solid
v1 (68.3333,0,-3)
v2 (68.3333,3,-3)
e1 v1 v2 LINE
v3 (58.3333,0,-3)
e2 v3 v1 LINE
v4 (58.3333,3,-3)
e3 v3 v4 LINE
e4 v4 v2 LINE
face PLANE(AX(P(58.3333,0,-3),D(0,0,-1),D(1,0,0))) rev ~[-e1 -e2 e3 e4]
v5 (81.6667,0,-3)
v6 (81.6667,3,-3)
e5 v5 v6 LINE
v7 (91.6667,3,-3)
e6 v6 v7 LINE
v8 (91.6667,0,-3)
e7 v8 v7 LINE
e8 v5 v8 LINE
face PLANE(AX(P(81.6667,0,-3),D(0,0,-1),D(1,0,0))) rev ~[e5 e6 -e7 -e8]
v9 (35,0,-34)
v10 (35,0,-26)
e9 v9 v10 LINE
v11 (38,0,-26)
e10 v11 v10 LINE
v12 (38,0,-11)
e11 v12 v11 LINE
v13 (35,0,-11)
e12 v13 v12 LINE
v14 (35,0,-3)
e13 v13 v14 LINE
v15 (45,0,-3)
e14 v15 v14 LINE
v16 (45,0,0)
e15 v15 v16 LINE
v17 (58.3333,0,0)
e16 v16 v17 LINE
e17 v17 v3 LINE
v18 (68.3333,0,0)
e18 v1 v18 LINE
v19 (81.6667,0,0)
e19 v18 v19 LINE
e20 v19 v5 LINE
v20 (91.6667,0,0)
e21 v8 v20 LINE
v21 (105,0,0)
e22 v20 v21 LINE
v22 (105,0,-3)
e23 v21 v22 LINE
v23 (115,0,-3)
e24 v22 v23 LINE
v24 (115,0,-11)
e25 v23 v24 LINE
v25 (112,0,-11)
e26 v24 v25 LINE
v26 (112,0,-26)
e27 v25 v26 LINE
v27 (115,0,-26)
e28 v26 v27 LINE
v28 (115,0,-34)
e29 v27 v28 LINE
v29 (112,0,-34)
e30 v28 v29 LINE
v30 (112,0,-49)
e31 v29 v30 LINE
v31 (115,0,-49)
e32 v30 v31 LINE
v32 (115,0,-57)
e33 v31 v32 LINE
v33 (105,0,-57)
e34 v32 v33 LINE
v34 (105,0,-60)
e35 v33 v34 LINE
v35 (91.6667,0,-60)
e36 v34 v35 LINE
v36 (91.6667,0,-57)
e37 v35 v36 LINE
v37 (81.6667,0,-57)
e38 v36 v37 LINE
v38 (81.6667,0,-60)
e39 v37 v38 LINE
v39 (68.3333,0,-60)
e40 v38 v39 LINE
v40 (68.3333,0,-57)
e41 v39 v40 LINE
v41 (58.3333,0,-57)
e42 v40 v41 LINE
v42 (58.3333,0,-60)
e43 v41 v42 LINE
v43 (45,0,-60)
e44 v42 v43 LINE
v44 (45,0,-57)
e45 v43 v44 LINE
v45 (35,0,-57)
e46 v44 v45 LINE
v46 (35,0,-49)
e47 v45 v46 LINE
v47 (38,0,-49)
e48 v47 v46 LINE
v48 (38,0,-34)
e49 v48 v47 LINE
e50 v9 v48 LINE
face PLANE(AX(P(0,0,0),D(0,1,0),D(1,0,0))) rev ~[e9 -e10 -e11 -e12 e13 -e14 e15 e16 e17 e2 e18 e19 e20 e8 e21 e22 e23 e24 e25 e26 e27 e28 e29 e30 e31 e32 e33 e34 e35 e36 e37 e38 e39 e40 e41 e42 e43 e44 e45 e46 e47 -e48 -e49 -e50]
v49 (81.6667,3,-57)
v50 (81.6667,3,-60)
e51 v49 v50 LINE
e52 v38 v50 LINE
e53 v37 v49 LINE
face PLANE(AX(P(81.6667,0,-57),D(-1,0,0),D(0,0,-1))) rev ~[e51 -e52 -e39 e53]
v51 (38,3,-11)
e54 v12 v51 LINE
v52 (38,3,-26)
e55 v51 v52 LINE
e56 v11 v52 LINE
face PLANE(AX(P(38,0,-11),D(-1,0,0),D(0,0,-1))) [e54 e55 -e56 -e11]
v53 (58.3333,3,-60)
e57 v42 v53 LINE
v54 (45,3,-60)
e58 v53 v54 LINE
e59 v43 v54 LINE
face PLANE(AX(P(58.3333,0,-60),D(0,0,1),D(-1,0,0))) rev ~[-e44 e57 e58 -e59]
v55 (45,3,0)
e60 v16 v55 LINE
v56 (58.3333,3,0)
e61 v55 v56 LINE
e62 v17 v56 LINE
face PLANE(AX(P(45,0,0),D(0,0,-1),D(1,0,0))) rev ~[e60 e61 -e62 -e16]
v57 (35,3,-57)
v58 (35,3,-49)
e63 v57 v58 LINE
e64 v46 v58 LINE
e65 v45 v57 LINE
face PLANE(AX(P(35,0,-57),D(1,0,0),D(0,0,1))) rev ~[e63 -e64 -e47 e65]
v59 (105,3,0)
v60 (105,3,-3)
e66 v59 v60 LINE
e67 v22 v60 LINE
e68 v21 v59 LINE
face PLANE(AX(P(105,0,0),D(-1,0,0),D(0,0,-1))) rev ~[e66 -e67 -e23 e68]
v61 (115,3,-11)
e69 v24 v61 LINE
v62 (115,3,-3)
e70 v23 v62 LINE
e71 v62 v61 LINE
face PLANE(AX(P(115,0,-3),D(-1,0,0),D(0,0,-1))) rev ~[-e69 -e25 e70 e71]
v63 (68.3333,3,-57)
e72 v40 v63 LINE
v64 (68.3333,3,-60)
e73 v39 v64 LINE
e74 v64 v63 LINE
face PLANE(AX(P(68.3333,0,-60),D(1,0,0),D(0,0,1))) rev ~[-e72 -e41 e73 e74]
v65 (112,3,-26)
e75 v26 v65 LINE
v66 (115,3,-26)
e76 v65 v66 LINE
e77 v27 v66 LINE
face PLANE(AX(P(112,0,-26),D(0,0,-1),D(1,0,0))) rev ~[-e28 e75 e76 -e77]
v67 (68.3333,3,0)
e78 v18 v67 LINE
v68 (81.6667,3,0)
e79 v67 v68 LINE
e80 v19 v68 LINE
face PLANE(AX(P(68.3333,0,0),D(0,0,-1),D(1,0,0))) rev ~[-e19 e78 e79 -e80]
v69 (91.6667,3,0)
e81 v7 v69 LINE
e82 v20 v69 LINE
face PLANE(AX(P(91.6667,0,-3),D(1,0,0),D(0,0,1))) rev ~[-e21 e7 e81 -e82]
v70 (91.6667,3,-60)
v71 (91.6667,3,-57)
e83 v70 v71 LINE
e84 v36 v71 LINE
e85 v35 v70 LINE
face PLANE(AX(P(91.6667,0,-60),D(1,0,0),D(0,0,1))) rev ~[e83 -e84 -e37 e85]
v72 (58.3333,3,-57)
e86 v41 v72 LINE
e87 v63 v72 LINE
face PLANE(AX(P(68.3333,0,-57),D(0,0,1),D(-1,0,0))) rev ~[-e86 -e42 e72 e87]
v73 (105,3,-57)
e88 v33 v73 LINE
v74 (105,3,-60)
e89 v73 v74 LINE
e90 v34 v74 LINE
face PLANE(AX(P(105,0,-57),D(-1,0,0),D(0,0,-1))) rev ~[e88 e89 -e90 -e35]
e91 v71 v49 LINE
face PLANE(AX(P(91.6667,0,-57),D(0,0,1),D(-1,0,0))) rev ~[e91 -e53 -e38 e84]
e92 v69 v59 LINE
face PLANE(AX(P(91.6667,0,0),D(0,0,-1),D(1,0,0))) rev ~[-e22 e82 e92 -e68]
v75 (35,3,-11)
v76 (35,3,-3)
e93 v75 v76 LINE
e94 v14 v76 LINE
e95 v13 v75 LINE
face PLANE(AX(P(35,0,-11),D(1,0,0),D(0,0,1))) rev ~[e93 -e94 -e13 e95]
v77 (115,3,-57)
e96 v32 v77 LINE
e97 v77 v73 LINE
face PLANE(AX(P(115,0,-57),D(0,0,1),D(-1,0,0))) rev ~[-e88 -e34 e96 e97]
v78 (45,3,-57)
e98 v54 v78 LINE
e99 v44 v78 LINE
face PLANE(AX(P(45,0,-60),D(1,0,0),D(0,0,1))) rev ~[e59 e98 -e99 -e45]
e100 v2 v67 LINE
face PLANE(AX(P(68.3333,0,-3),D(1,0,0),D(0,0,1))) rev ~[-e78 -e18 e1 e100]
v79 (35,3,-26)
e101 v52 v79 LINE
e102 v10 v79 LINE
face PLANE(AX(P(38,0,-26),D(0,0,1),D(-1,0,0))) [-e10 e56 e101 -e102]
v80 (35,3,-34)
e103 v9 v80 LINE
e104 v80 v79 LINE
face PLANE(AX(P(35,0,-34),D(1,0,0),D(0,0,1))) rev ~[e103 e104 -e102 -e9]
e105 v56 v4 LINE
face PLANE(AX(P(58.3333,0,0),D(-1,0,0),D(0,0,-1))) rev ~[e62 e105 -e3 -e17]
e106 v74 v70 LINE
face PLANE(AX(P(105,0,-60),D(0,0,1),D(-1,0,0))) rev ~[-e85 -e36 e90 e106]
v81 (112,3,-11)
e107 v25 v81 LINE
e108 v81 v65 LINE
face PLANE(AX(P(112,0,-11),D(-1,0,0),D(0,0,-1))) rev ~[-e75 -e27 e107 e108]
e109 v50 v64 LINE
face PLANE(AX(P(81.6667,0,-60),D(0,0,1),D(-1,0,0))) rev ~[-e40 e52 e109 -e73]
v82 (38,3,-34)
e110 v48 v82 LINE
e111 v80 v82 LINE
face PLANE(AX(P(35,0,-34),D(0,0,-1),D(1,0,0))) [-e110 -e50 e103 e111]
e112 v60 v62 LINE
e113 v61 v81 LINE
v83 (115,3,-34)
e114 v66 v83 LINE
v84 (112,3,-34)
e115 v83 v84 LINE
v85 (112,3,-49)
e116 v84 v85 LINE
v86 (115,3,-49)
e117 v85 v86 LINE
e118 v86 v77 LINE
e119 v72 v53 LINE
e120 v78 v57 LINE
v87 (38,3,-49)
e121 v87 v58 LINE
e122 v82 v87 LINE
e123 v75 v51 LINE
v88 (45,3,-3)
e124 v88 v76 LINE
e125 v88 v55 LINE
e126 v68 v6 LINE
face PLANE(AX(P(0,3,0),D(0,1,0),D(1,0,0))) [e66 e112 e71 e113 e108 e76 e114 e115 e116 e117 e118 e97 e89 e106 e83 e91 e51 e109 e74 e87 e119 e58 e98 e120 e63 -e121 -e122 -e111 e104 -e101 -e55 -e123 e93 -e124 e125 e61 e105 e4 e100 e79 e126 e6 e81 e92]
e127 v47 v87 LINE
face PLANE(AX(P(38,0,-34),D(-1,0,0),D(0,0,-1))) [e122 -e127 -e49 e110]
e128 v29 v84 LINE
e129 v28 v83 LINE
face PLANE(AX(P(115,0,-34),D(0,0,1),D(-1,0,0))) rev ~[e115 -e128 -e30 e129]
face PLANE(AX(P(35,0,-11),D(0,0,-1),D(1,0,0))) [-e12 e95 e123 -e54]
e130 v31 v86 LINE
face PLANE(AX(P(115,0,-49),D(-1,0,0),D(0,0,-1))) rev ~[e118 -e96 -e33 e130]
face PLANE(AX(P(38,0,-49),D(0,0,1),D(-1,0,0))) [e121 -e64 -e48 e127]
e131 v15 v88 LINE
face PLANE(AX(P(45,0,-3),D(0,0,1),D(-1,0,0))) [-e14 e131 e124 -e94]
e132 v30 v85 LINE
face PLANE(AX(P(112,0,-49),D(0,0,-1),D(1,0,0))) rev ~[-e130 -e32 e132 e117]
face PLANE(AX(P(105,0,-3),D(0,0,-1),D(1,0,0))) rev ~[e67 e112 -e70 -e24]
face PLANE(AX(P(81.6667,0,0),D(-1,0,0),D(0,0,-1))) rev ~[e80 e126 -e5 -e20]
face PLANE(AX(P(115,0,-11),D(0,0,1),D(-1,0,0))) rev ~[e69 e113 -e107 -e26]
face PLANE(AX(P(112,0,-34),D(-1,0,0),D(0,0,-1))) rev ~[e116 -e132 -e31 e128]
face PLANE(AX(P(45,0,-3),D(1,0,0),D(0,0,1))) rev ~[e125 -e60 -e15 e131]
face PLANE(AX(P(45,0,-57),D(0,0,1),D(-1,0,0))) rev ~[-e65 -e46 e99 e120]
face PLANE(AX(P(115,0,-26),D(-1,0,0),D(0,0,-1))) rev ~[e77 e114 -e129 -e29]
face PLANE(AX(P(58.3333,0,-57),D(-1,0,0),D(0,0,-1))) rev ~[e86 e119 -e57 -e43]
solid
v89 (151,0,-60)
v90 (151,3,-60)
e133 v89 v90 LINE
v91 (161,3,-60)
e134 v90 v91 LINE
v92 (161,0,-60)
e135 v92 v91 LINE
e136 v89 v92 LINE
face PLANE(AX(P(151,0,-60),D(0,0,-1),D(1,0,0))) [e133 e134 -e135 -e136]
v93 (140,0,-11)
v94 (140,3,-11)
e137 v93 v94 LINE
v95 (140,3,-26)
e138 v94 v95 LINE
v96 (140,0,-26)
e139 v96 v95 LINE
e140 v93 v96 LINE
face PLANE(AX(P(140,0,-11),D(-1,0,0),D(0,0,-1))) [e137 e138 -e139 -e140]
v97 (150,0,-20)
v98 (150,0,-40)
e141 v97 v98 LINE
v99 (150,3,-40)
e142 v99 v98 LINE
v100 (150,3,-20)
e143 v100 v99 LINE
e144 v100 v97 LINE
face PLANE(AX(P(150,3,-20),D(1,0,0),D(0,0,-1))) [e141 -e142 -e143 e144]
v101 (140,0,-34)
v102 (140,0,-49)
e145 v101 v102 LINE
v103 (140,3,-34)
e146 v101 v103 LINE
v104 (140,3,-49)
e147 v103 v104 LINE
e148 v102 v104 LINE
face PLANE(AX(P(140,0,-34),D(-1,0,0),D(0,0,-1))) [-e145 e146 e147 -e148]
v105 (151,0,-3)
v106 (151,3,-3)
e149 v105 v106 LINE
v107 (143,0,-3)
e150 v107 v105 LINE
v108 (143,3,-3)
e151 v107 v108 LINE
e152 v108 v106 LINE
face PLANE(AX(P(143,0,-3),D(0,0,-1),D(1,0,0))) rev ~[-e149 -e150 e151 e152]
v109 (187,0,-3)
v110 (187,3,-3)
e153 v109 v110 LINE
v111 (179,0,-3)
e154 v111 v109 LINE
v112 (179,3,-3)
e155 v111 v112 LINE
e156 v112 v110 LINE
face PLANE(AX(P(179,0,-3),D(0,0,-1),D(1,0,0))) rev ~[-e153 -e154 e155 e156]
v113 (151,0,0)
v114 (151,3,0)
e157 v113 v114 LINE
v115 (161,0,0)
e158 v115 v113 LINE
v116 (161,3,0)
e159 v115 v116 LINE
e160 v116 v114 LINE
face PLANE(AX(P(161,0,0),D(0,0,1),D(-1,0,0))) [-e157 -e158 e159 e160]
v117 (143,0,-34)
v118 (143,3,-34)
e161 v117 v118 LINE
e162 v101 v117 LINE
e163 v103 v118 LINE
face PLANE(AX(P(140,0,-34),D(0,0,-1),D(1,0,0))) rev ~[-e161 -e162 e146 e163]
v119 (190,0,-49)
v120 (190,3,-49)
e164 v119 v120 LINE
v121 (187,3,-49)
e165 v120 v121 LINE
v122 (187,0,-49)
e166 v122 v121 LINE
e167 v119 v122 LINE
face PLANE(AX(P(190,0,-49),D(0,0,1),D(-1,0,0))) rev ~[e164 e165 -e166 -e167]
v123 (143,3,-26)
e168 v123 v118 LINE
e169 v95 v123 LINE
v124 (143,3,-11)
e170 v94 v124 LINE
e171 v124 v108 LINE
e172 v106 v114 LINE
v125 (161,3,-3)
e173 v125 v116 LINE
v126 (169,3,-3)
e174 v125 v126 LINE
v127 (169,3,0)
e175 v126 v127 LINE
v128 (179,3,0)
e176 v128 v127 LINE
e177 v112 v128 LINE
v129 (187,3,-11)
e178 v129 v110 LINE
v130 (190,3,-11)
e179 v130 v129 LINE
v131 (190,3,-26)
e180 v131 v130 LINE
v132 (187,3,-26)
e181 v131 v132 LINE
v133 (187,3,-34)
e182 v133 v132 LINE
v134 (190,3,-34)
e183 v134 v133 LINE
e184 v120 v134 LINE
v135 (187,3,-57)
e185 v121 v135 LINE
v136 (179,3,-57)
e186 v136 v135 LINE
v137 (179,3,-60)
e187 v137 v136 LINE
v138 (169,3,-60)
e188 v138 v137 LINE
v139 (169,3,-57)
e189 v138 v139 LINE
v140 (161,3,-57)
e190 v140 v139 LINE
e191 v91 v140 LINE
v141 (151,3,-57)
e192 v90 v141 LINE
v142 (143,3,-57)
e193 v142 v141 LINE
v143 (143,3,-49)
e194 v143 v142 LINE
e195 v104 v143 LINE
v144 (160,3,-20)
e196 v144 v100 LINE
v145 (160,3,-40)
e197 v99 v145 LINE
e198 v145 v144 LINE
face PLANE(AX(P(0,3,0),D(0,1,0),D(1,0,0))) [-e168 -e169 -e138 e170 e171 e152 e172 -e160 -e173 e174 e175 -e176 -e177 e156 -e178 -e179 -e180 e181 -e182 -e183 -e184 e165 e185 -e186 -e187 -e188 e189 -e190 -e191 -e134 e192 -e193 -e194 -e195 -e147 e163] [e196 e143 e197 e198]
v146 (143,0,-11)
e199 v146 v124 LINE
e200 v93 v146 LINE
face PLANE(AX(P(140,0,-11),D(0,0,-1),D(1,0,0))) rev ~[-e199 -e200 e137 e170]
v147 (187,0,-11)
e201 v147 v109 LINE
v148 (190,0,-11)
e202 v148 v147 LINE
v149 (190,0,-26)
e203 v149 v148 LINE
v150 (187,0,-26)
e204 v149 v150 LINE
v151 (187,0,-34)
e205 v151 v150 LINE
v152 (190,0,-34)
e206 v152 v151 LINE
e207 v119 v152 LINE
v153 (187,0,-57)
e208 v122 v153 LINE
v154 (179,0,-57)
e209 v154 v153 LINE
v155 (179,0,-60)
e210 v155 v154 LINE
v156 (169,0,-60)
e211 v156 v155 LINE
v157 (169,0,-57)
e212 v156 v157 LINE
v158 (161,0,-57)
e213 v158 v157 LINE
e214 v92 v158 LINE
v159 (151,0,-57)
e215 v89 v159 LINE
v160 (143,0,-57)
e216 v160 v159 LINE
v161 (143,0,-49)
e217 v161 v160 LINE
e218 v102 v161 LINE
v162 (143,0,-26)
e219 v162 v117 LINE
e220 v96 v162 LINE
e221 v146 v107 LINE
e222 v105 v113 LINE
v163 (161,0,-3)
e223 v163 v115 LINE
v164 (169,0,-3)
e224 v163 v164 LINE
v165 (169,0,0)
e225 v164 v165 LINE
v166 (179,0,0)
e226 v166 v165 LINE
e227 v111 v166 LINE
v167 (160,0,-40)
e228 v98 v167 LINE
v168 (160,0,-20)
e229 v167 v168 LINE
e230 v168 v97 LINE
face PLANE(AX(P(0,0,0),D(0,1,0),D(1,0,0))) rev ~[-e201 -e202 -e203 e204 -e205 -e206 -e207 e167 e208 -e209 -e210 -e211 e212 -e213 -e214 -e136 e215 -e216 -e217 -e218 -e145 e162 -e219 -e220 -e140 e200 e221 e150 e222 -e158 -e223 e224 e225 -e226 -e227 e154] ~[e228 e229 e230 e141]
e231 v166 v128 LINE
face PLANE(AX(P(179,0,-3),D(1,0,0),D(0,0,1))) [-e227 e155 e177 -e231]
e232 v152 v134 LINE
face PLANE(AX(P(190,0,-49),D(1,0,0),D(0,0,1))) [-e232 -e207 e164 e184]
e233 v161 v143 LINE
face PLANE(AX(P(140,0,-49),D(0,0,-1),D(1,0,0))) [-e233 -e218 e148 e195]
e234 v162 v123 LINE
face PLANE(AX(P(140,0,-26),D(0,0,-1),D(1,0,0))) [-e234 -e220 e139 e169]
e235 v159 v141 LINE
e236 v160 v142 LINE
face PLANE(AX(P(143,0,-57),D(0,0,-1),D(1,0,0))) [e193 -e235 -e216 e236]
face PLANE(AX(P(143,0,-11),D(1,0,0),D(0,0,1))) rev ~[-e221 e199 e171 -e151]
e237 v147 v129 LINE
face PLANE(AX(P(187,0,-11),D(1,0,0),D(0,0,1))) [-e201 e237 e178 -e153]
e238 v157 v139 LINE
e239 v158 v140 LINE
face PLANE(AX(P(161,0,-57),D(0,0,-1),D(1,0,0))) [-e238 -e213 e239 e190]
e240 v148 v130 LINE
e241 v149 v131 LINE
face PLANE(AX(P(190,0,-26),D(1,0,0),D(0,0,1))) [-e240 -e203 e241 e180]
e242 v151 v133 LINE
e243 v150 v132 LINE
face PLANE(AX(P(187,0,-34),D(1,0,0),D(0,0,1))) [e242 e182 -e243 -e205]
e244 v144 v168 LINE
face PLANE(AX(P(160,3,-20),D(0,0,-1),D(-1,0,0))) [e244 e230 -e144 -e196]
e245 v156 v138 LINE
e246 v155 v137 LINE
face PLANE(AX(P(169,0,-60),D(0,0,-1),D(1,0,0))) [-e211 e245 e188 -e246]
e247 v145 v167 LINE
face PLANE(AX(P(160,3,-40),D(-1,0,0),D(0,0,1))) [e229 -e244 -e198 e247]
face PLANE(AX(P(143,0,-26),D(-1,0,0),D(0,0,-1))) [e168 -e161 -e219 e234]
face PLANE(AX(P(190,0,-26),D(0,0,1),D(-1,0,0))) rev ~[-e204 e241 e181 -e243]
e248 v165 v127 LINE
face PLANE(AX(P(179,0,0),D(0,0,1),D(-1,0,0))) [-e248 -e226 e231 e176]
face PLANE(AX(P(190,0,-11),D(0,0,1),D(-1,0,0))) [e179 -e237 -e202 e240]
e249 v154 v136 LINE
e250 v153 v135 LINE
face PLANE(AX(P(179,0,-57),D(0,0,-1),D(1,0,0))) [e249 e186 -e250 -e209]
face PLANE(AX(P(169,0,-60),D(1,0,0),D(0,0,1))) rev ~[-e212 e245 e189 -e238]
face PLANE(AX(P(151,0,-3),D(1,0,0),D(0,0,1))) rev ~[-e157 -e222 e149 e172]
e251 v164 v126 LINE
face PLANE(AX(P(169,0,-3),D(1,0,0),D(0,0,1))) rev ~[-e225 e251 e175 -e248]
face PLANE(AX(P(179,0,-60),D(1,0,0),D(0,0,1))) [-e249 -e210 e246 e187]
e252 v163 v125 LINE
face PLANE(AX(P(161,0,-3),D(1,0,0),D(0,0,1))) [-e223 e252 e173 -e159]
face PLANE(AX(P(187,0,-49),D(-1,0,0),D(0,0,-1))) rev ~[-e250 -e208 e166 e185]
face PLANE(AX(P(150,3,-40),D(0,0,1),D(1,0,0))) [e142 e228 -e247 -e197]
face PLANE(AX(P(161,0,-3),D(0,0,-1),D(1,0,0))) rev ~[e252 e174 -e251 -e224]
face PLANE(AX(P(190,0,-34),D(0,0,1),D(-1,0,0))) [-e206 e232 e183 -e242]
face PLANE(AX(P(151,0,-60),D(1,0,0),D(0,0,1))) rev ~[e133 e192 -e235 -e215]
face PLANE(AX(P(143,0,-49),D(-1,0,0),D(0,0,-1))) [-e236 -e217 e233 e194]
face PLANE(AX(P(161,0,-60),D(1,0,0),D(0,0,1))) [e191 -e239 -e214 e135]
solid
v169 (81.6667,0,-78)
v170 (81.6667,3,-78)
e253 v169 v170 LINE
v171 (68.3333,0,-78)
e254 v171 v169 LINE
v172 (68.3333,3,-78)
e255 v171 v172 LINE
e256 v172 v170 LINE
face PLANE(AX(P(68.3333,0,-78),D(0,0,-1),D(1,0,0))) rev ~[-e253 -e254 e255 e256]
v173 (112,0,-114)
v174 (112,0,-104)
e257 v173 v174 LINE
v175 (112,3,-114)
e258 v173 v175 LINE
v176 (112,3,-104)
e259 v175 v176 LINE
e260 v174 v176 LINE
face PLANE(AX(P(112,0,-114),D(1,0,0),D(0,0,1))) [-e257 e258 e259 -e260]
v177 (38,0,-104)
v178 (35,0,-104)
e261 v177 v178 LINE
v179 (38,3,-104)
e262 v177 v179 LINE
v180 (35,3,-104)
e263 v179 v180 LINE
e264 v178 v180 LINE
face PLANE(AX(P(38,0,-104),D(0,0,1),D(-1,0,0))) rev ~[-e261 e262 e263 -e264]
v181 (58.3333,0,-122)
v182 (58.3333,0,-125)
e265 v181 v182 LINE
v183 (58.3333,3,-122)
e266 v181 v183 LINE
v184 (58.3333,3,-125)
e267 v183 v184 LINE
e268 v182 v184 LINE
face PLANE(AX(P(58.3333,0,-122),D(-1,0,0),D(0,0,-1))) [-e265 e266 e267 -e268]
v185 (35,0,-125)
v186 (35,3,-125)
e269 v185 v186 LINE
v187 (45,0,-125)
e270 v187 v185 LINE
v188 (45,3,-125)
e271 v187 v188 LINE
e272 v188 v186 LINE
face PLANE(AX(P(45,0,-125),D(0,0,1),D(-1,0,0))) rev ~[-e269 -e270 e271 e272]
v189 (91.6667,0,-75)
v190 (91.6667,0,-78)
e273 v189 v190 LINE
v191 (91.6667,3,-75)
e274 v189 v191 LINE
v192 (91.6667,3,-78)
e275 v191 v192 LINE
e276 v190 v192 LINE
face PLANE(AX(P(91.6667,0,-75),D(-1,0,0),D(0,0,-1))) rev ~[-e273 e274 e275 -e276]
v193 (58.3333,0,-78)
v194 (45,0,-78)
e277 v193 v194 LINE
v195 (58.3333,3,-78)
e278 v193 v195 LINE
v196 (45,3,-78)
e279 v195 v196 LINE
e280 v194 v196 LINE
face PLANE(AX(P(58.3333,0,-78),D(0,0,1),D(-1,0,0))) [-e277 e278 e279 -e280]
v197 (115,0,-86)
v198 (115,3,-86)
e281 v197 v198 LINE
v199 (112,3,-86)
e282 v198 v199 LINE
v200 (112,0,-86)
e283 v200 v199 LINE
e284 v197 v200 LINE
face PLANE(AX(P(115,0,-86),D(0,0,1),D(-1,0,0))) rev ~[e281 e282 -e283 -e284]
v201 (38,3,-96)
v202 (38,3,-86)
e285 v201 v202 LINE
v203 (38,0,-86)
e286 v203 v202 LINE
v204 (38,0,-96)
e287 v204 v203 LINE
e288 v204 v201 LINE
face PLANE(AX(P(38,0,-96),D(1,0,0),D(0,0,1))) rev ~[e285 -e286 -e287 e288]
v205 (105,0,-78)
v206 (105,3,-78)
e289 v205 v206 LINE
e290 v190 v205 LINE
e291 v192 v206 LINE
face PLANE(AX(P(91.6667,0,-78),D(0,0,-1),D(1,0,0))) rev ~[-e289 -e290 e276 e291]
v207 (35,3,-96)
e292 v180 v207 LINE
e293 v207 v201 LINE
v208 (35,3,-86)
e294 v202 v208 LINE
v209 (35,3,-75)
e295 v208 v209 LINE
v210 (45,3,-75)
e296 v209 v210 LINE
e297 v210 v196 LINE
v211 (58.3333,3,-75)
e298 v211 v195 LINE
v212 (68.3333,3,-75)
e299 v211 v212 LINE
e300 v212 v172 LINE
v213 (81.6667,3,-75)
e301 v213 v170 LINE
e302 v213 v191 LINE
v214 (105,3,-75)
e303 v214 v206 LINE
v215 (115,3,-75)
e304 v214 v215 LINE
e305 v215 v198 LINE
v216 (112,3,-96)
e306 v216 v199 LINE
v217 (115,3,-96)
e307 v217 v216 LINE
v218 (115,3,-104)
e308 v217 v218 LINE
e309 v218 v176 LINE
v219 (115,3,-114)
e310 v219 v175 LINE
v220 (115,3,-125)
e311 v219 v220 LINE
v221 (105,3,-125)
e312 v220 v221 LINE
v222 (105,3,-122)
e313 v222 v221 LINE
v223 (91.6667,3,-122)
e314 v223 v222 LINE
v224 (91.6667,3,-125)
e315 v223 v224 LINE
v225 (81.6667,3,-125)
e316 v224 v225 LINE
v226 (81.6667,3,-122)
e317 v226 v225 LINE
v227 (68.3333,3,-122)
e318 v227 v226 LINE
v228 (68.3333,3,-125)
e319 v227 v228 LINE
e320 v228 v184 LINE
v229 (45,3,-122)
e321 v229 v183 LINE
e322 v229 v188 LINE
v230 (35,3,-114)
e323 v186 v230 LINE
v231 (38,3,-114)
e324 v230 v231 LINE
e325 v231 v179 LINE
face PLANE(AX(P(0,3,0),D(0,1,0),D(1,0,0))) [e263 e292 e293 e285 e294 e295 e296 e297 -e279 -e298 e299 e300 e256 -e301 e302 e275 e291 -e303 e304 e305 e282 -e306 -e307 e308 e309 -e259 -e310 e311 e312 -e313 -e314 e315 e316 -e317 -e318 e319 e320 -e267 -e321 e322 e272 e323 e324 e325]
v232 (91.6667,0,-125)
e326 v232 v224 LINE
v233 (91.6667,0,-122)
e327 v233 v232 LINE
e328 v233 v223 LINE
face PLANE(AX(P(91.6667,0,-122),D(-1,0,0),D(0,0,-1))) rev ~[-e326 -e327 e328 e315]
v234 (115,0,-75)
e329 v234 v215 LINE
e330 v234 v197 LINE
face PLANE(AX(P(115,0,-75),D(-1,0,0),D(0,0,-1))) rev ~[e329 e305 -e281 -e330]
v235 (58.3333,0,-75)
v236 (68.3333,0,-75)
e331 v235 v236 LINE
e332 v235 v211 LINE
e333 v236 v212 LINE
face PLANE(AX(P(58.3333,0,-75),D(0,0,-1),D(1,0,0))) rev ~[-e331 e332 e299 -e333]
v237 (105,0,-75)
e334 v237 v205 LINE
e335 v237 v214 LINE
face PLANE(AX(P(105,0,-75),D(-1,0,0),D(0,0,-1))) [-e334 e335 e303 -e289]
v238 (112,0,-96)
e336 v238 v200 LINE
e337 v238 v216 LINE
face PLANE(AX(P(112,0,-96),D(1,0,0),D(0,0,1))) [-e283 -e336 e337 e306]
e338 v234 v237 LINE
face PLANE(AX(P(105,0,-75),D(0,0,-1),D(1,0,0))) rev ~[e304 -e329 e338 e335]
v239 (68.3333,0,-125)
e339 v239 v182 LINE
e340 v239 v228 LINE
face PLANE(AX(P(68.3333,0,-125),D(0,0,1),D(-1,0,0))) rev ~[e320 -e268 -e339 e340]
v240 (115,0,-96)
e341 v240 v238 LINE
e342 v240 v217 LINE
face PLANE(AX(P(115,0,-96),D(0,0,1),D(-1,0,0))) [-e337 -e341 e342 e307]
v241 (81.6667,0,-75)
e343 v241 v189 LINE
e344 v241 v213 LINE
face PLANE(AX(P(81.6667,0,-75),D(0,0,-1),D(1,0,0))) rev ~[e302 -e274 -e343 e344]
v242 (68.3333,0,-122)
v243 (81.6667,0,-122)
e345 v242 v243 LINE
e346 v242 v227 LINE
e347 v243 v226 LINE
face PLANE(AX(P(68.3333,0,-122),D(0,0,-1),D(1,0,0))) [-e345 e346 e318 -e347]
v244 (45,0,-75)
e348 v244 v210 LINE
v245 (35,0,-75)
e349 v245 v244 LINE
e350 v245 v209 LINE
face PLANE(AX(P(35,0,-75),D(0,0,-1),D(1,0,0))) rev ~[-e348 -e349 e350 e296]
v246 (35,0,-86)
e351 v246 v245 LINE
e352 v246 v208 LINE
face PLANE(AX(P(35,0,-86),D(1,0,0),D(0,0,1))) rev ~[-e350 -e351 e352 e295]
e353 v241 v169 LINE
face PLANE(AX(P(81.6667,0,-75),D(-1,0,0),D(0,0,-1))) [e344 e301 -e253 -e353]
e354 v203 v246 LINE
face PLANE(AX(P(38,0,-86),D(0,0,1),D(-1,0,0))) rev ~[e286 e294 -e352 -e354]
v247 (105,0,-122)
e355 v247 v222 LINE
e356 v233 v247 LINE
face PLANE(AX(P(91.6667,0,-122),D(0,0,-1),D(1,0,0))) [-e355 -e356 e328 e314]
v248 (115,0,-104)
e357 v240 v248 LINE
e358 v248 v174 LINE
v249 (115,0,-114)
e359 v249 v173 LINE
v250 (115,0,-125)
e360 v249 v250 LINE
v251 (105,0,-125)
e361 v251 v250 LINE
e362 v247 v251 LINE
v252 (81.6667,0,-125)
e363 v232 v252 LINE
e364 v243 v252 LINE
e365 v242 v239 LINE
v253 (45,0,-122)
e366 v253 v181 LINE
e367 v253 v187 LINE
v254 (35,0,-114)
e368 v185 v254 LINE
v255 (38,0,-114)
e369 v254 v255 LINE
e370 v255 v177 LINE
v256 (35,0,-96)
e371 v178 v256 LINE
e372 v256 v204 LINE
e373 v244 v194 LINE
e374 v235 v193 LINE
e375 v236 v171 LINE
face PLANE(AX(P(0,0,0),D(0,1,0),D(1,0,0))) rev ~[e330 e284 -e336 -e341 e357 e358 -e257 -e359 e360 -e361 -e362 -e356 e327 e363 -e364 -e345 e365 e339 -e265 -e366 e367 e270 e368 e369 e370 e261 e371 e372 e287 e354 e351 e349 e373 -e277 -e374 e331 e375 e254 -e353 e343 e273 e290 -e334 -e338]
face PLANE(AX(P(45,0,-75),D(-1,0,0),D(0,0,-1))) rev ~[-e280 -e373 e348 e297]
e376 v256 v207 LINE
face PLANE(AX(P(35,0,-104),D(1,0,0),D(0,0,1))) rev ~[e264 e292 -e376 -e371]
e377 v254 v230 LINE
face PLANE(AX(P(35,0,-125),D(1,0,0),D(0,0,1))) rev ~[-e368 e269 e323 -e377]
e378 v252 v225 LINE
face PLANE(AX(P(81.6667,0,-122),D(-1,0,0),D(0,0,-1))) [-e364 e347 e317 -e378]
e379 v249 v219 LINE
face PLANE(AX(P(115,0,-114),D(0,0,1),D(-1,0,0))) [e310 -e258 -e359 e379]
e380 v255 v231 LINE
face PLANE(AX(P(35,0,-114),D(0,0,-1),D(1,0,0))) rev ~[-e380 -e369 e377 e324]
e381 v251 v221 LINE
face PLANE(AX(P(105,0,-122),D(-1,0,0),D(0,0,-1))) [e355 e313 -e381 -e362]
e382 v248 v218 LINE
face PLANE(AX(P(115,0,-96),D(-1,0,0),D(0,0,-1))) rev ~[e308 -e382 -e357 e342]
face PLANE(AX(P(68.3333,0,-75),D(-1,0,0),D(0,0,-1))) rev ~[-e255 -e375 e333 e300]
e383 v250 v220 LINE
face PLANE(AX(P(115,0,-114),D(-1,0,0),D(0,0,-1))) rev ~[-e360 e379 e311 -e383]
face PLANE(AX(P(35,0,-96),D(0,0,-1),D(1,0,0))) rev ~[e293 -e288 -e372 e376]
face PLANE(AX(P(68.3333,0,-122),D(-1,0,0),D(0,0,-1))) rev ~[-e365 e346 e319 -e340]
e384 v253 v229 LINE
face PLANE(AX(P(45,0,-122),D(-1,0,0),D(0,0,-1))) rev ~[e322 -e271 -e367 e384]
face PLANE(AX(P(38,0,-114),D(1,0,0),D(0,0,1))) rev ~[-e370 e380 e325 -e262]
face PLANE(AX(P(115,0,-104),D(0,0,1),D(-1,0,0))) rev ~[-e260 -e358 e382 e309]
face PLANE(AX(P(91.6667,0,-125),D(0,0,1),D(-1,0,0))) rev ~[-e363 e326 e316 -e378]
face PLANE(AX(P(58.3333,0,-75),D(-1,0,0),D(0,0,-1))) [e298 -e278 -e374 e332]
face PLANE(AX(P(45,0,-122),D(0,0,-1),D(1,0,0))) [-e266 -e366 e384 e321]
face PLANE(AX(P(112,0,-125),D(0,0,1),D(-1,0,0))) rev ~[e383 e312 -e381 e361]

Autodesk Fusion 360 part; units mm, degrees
sketch "Sketch1" plane through (0, 0, 0) normal (0, 1, 0) x (1, 0, 0)
  line L0 (50, 50) -> (100, 50)
  line L1 (100, 50) -> (100, 30)
  line L2 (100, 30) -> (50, 30)
  line L3 (50, 30) -> (50, 50)
  line L4 (58.8512, 35.5366) -> (93.3385, 35.5366) construction
  line L5 (93.3385, 35.5366) -> (93.3385, 45.5366) construction
  line L6 (93.3385, 45.5366) -> (58.8512, 45.5366) construction
  line L7 (58.8512, 45.5366) -> (58.8512, 35.5366) construction
  line L8 (115, 60) -> (35, 60)
  line L9 (35, 60) -> (35, 0)
  line L10 (35, 0) -> (115, 0)
  line L11 (115, 0) -> (115, 60)
  line L12 (35, 60) -> (45, 60)
  line L13 (45, 60) -> (45, 57)
  line L14 (45, 57) -> (35, 57)
  line L15 (35, 57) -> (35, 60)
  line L16 (68.3333, 57) -> (58.3333, 57)
  line L17 (58.3333, 57) -> (58.3333, 60)
  line L18 (68.3333, 60) -> (68.3333, 57)
  line L19 (91.6667, 57) -> (81.6667, 57)
  line L20 (81.6667, 57) -> (81.6667, 60)
  line L21 (91.6667, 60) -> (91.6667, 57)
  line L22 (115, 57) -> (105, 57)
  line L23 (105, 57) -> (105, 60)
  line L24 (115, 60) -> (115, 57)
  line L25 (35, 75) -> (115, 75)
  line L26 (115, 75) -> (115, 125)
  line L27 (115, 125) -> (35, 125)
  line L28 (35, 125) -> (35, 75)
  line L29 (45, 3) -> (45, 0)
  line L30 (58.3333, 0) -> (58.3333, 3)
  line L31 (81.6667, 0) -> (81.6667, 3)
  line L32 (91.6667, 3) -> (91.6667, 0)
  line L33 (68.3333, 3) -> (68.3333, 0)
  line L34 (105, 0) -> (105, 3)
  line L35 (45, 3) -> (35, 3)
  line L36 (58.3333, 3) -> (68.3333, 3)
  line L37 (81.6667, 3) -> (91.6667, 3)
  line L38 (105, 3) -> (115, 3)
  line L39 (112, 49) -> (115, 49)
  line L40 (115, 49) -> (115, 34)
  line L41 (115, 34) -> (112, 34)
  line L42 (112, 34) -> (112, 49)
  line L43 (112, 26) -> (115, 26)
  line L44 (115, 26) -> (115, 11)
  line L45 (115, 11) -> (112, 11)
  line L46 (112, 11) -> (112, 26)
  line L47 (38, 49) -> (35, 49)
  line L48 (35, 49) -> (35, 34)
  line L49 (35, 34) -> (38, 34)
  line L50 (38, 34) -> (38, 49)
  line L51 (38, 26) -> (35, 26)
  line L52 (35, 26) -> (35, 11)
  line L53 (35, 11) -> (38, 11)
  line L54 (38, 11) -> (38, 26)
  line L55 (140, 60) -> (190, 60)
  line L56 (190, 60) -> (190, 0)
  line L57 (190, 0) -> (140, 0)
  line L58 (140, 0) -> (140, 60)
  line L59 (140, 57) -> (190, 57)
  line L60 (140, 3) -> (190, 3)
  line L61 (140, 49) -> (143, 49)
  line L62 (140, 34) -> (143, 34)
  line L63 (140, 26) -> (143, 26)
  line L64 (140, 11) -> (143, 11)
  line L65 (143, 49) -> (143, 60)
  line L66 (143, 26) -> (143, 34)
  line L67 (143, 11) -> (143, 0)
  line L68 (190, 49) -> (187, 49)
  line L69 (190, 34) -> (187, 34)
  line L70 (190, 26) -> (187, 26)
  line L71 (190, 11) -> (187, 11)
  line L72 (187, 49) -> (187, 60)
  line L73 (187, 34) -> (187, 26)
  line L74 (187, 11) -> (187, 0)
  line L75 (45, 75) -> (45, 78)
  line L76 (68.3333, 75) -> (68.3333, 78)
  line L77 (58.3333, 75) -> (58.3333, 78)
  line L78 (81.6667, 75) -> (81.6667, 78)
  line L79 (91.6667, 75) -> (91.6667, 78)
  line L80 (105, 75) -> (105, 78)
  line L81 (68.3333, 78) -> (81.6667, 78)
  line L82 (91.6667, 78) -> (105, 78)
  line L83 (58.3333, 78) -> (45, 78)
  line L84 (45, 122) -> (45, 125)
  line L85 (58.3333, 122) -> (58.3333, 125)
  line L86 (68.3333, 122) -> (68.3333, 125)
  line L87 (81.6667, 122) -> (81.6667, 125)
  line L88 (91.6667, 122) -> (91.6667, 125)
  line L89 (105, 122) -> (105, 125)
  line L90 (45, 122) -> (58.3333, 122)
  line L91 (68.3333, 122) -> (81.6667, 122)
  line L92 (91.6667, 122) -> (105, 122)
  line L93 (143, 63.0834) -> (151, 63.0834)
  line L94 (151, 63.0834) -> (161, 63.0834)
  line L95 (161, 63.0834) -> (169, 63.0834)
  line L96 (169, 63.0834) -> (179, 63.0834)
  line L97 (179, 63.0834) -> (187, 63.0834)
  line L98 (151, 60) -> (151, 57)
  line L99 (161, 60) -> (161, 57)
  line L100 (169, 60) -> (169, 57)
  line L101 (179, 60) -> (179, 57)
  line L102 (151, 3) -> (151, 0)
  line L103 (161, 3) -> (161, 0)
  line L104 (169, 3) -> (169, 0)
  line L105 (179, 3) -> (179, 0)
  line L106 (115, 129.9518) -> (112, 129.9518)
  line L107 (112, 125) -> (112, 75)
  line L108 (115, 114) -> (112, 114)
  line L109 (115, 104) -> (112, 104)
  line L110 (115, 96) -> (112, 96)
  line L111 (115, 86) -> (112, 86)
  line L112 (35, 114) -> (38, 114)
  line L113 (38, 114) -> (38, 104)
  line L114 (38, 104) -> (35, 104)
  line L115 (35, 96) -> (38, 96)
  line L116 (38, 96) -> (38, 86)
  line L117 (38, 86) -> (35, 86)
  point P0 (75, 40)
  point P1 (112, 49)
  point P2 (38, 49)
  dimension "d3" = 20
  dimension "d4" = 50
  dimension "d21" = 80
  dimension "d22" = 50
  dimension "d26" = 0
  dimension "d27" = -57
  dimension "d31" = 15
  dimension "d42" = 10
  dimension "d43" = 60
  dimension "d44" = 50
  dimension "d61" = 0
  dimension "d62" = 47
  dimension "d66" = 8
  dimension "d67" = 10
  dimension "d68" = 8
  dimension "d69" = 10
  dimension "d70" = 8
  dimension "d75" = 3
extrude "Extrude1" add sketch "Sketch1" along normal blind 3 contours L0 L1 L2 L3 | L8 L9 L10 L11 L13 L14 L16 L17 L18 L19 L20 L21 L22 L23 L29 L30 L31 L32 L33 L34 L35 L36 L37 L38 L39 L41 L42 L43 L45 L46 L47 L49 L50 L51 L53 L54 makes body 1
sketch "Sketch2" plane through (0, 0, 0) normal (0, 1, 0) x (1, 0, 0)
extrude "Extrude2" add sketch "Sketch1" along normal blind 3 separate body contours L25 L27 L28 L75 L76 L77 L78 L79 L80 L81 L82 L83 L84 L85 L86 L87 L88 L89 L90 L91 L92 L107 L112 L113 L114 L115 L116 L117 | L25 L26 L107 L111 | L26 L107 L109 L110 | L26 L27 L107 L108 makes body 2
extrude "Extrude3" add sketch "Sketch1" along normal blind 3 separate body contours L55 L59 L98 L99 | L56 L58 L59 L60 L61 L62 L63 L64 L65 L66 L67 L68 L69 L70 L71 L72 L73 L74 | L55 L59 L100 L101 | L57 L60 L102 L103 | L57 L60 L104 L105 makes body 3
copy_body "Body->Comp1" bodies 1 removing the originals makes body 4 in component "Tapa_Z"
copy_body "Body->Comp2" bodies 3 removing the originals makes body 5 in component "Tapa_X"
copy_body "Body->Comp3" bodies 2 removing the originals makes body 6 in component "Tapa_Y"
sketch "Sketch3" plane through (0, 3, 0) normal (0, 1, 0) x (-1, 0, 0)
  line L0 (-190, -26) -> (-187, -26)
  line L1 (-187, -26) -> (-187, -34)
  line L2 (-187, -34) -> (-190, -34)
  line L3 (-190, -34) -> (-190, -49)
  line L4 (-190, -49) -> (-187, -49)
  line L5 (-187, -49) -> (-187, -57)
  line L6 (-187, -57) -> (-179, -57)
  line L7 (-179, -57) -> (-179, -60)
  line L8 (-179, -60) -> (-169, -60)
  line L9 (-169, -60) -> (-169, -57)
  line L10 (-169, -57) -> (-161, -57)
  line L11 (-161, -57) -> (-161, -60)
  line L12 (-161, -60) -> (-151, -60)
  line L13 (-151, -60) -> (-151, -57)
  line L14 (-151, -57) -> (-143, -57)
  line L15 (-143, -57) -> (-143, -49)
  line L16 (-143, -49) -> (-140, -49)
  line L17 (-140, -49) -> (-140, -34)
  line L18 (-140, -34) -> (-143, -34)
  line L19 (-143, -34) -> (-143, -26)
  line L20 (-143, -26) -> (-140, -26)
  line L21 (-140, -26) -> (-140, -11)
  line L22 (-140, -11) -> (-143, -11)
  line L23 (-143, -11) -> (-143, -3)
  line L24 (-143, -3) -> (-151, -3)
  line L25 (-151, -3) -> (-151, 0)
  line L26 (-151, 0) -> (-161, 0)
  line L27 (-161, 0) -> (-161, -3)
  line L28 (-161, -3) -> (-169, -3)
  line L29 (-169, -3) -> (-169, 0)
  line L30 (-169, 0) -> (-179, 0)
  line L31 (-179, 0) -> (-179, -3)
  line L32 (-179, -3) -> (-187, -3)
  line L33 (-187, -3) -> (-187, -11)
  line L34 (-187, -11) -> (-190, -11)
  line L35 (-190, -11) -> (-190, -26)
  line L36 (-150, -40) -> (-160, -40)
  line L37 (-160, -40) -> (-160, -20)
  line L38 (-160, -20) -> (-150, -20)
  line L39 (-150, -20) -> (-150, -40)
  dimension "d82" = 20
  dimension "d83" = 10
extrude "Extrude1'" cut sketch "Sketch3" against normal blind 3 contours L36 L37 L38 L39 bodies 5 in component "Tapa_X"
component "Tapa_Z" placed x (1, 0, 0) y (0, 1, 0) z (0, 0, 1) at (0, 0, 0)
component "Tapa_X" placed x (1, 0, 0) y (0, 1, 0) z (0, 0, 1) at (0, 0, 0)
component "Tapa_Y" placed x (1, 0, 0) y (0, 1, 0) z (0, 0, 1) at (0, 0, 0)
